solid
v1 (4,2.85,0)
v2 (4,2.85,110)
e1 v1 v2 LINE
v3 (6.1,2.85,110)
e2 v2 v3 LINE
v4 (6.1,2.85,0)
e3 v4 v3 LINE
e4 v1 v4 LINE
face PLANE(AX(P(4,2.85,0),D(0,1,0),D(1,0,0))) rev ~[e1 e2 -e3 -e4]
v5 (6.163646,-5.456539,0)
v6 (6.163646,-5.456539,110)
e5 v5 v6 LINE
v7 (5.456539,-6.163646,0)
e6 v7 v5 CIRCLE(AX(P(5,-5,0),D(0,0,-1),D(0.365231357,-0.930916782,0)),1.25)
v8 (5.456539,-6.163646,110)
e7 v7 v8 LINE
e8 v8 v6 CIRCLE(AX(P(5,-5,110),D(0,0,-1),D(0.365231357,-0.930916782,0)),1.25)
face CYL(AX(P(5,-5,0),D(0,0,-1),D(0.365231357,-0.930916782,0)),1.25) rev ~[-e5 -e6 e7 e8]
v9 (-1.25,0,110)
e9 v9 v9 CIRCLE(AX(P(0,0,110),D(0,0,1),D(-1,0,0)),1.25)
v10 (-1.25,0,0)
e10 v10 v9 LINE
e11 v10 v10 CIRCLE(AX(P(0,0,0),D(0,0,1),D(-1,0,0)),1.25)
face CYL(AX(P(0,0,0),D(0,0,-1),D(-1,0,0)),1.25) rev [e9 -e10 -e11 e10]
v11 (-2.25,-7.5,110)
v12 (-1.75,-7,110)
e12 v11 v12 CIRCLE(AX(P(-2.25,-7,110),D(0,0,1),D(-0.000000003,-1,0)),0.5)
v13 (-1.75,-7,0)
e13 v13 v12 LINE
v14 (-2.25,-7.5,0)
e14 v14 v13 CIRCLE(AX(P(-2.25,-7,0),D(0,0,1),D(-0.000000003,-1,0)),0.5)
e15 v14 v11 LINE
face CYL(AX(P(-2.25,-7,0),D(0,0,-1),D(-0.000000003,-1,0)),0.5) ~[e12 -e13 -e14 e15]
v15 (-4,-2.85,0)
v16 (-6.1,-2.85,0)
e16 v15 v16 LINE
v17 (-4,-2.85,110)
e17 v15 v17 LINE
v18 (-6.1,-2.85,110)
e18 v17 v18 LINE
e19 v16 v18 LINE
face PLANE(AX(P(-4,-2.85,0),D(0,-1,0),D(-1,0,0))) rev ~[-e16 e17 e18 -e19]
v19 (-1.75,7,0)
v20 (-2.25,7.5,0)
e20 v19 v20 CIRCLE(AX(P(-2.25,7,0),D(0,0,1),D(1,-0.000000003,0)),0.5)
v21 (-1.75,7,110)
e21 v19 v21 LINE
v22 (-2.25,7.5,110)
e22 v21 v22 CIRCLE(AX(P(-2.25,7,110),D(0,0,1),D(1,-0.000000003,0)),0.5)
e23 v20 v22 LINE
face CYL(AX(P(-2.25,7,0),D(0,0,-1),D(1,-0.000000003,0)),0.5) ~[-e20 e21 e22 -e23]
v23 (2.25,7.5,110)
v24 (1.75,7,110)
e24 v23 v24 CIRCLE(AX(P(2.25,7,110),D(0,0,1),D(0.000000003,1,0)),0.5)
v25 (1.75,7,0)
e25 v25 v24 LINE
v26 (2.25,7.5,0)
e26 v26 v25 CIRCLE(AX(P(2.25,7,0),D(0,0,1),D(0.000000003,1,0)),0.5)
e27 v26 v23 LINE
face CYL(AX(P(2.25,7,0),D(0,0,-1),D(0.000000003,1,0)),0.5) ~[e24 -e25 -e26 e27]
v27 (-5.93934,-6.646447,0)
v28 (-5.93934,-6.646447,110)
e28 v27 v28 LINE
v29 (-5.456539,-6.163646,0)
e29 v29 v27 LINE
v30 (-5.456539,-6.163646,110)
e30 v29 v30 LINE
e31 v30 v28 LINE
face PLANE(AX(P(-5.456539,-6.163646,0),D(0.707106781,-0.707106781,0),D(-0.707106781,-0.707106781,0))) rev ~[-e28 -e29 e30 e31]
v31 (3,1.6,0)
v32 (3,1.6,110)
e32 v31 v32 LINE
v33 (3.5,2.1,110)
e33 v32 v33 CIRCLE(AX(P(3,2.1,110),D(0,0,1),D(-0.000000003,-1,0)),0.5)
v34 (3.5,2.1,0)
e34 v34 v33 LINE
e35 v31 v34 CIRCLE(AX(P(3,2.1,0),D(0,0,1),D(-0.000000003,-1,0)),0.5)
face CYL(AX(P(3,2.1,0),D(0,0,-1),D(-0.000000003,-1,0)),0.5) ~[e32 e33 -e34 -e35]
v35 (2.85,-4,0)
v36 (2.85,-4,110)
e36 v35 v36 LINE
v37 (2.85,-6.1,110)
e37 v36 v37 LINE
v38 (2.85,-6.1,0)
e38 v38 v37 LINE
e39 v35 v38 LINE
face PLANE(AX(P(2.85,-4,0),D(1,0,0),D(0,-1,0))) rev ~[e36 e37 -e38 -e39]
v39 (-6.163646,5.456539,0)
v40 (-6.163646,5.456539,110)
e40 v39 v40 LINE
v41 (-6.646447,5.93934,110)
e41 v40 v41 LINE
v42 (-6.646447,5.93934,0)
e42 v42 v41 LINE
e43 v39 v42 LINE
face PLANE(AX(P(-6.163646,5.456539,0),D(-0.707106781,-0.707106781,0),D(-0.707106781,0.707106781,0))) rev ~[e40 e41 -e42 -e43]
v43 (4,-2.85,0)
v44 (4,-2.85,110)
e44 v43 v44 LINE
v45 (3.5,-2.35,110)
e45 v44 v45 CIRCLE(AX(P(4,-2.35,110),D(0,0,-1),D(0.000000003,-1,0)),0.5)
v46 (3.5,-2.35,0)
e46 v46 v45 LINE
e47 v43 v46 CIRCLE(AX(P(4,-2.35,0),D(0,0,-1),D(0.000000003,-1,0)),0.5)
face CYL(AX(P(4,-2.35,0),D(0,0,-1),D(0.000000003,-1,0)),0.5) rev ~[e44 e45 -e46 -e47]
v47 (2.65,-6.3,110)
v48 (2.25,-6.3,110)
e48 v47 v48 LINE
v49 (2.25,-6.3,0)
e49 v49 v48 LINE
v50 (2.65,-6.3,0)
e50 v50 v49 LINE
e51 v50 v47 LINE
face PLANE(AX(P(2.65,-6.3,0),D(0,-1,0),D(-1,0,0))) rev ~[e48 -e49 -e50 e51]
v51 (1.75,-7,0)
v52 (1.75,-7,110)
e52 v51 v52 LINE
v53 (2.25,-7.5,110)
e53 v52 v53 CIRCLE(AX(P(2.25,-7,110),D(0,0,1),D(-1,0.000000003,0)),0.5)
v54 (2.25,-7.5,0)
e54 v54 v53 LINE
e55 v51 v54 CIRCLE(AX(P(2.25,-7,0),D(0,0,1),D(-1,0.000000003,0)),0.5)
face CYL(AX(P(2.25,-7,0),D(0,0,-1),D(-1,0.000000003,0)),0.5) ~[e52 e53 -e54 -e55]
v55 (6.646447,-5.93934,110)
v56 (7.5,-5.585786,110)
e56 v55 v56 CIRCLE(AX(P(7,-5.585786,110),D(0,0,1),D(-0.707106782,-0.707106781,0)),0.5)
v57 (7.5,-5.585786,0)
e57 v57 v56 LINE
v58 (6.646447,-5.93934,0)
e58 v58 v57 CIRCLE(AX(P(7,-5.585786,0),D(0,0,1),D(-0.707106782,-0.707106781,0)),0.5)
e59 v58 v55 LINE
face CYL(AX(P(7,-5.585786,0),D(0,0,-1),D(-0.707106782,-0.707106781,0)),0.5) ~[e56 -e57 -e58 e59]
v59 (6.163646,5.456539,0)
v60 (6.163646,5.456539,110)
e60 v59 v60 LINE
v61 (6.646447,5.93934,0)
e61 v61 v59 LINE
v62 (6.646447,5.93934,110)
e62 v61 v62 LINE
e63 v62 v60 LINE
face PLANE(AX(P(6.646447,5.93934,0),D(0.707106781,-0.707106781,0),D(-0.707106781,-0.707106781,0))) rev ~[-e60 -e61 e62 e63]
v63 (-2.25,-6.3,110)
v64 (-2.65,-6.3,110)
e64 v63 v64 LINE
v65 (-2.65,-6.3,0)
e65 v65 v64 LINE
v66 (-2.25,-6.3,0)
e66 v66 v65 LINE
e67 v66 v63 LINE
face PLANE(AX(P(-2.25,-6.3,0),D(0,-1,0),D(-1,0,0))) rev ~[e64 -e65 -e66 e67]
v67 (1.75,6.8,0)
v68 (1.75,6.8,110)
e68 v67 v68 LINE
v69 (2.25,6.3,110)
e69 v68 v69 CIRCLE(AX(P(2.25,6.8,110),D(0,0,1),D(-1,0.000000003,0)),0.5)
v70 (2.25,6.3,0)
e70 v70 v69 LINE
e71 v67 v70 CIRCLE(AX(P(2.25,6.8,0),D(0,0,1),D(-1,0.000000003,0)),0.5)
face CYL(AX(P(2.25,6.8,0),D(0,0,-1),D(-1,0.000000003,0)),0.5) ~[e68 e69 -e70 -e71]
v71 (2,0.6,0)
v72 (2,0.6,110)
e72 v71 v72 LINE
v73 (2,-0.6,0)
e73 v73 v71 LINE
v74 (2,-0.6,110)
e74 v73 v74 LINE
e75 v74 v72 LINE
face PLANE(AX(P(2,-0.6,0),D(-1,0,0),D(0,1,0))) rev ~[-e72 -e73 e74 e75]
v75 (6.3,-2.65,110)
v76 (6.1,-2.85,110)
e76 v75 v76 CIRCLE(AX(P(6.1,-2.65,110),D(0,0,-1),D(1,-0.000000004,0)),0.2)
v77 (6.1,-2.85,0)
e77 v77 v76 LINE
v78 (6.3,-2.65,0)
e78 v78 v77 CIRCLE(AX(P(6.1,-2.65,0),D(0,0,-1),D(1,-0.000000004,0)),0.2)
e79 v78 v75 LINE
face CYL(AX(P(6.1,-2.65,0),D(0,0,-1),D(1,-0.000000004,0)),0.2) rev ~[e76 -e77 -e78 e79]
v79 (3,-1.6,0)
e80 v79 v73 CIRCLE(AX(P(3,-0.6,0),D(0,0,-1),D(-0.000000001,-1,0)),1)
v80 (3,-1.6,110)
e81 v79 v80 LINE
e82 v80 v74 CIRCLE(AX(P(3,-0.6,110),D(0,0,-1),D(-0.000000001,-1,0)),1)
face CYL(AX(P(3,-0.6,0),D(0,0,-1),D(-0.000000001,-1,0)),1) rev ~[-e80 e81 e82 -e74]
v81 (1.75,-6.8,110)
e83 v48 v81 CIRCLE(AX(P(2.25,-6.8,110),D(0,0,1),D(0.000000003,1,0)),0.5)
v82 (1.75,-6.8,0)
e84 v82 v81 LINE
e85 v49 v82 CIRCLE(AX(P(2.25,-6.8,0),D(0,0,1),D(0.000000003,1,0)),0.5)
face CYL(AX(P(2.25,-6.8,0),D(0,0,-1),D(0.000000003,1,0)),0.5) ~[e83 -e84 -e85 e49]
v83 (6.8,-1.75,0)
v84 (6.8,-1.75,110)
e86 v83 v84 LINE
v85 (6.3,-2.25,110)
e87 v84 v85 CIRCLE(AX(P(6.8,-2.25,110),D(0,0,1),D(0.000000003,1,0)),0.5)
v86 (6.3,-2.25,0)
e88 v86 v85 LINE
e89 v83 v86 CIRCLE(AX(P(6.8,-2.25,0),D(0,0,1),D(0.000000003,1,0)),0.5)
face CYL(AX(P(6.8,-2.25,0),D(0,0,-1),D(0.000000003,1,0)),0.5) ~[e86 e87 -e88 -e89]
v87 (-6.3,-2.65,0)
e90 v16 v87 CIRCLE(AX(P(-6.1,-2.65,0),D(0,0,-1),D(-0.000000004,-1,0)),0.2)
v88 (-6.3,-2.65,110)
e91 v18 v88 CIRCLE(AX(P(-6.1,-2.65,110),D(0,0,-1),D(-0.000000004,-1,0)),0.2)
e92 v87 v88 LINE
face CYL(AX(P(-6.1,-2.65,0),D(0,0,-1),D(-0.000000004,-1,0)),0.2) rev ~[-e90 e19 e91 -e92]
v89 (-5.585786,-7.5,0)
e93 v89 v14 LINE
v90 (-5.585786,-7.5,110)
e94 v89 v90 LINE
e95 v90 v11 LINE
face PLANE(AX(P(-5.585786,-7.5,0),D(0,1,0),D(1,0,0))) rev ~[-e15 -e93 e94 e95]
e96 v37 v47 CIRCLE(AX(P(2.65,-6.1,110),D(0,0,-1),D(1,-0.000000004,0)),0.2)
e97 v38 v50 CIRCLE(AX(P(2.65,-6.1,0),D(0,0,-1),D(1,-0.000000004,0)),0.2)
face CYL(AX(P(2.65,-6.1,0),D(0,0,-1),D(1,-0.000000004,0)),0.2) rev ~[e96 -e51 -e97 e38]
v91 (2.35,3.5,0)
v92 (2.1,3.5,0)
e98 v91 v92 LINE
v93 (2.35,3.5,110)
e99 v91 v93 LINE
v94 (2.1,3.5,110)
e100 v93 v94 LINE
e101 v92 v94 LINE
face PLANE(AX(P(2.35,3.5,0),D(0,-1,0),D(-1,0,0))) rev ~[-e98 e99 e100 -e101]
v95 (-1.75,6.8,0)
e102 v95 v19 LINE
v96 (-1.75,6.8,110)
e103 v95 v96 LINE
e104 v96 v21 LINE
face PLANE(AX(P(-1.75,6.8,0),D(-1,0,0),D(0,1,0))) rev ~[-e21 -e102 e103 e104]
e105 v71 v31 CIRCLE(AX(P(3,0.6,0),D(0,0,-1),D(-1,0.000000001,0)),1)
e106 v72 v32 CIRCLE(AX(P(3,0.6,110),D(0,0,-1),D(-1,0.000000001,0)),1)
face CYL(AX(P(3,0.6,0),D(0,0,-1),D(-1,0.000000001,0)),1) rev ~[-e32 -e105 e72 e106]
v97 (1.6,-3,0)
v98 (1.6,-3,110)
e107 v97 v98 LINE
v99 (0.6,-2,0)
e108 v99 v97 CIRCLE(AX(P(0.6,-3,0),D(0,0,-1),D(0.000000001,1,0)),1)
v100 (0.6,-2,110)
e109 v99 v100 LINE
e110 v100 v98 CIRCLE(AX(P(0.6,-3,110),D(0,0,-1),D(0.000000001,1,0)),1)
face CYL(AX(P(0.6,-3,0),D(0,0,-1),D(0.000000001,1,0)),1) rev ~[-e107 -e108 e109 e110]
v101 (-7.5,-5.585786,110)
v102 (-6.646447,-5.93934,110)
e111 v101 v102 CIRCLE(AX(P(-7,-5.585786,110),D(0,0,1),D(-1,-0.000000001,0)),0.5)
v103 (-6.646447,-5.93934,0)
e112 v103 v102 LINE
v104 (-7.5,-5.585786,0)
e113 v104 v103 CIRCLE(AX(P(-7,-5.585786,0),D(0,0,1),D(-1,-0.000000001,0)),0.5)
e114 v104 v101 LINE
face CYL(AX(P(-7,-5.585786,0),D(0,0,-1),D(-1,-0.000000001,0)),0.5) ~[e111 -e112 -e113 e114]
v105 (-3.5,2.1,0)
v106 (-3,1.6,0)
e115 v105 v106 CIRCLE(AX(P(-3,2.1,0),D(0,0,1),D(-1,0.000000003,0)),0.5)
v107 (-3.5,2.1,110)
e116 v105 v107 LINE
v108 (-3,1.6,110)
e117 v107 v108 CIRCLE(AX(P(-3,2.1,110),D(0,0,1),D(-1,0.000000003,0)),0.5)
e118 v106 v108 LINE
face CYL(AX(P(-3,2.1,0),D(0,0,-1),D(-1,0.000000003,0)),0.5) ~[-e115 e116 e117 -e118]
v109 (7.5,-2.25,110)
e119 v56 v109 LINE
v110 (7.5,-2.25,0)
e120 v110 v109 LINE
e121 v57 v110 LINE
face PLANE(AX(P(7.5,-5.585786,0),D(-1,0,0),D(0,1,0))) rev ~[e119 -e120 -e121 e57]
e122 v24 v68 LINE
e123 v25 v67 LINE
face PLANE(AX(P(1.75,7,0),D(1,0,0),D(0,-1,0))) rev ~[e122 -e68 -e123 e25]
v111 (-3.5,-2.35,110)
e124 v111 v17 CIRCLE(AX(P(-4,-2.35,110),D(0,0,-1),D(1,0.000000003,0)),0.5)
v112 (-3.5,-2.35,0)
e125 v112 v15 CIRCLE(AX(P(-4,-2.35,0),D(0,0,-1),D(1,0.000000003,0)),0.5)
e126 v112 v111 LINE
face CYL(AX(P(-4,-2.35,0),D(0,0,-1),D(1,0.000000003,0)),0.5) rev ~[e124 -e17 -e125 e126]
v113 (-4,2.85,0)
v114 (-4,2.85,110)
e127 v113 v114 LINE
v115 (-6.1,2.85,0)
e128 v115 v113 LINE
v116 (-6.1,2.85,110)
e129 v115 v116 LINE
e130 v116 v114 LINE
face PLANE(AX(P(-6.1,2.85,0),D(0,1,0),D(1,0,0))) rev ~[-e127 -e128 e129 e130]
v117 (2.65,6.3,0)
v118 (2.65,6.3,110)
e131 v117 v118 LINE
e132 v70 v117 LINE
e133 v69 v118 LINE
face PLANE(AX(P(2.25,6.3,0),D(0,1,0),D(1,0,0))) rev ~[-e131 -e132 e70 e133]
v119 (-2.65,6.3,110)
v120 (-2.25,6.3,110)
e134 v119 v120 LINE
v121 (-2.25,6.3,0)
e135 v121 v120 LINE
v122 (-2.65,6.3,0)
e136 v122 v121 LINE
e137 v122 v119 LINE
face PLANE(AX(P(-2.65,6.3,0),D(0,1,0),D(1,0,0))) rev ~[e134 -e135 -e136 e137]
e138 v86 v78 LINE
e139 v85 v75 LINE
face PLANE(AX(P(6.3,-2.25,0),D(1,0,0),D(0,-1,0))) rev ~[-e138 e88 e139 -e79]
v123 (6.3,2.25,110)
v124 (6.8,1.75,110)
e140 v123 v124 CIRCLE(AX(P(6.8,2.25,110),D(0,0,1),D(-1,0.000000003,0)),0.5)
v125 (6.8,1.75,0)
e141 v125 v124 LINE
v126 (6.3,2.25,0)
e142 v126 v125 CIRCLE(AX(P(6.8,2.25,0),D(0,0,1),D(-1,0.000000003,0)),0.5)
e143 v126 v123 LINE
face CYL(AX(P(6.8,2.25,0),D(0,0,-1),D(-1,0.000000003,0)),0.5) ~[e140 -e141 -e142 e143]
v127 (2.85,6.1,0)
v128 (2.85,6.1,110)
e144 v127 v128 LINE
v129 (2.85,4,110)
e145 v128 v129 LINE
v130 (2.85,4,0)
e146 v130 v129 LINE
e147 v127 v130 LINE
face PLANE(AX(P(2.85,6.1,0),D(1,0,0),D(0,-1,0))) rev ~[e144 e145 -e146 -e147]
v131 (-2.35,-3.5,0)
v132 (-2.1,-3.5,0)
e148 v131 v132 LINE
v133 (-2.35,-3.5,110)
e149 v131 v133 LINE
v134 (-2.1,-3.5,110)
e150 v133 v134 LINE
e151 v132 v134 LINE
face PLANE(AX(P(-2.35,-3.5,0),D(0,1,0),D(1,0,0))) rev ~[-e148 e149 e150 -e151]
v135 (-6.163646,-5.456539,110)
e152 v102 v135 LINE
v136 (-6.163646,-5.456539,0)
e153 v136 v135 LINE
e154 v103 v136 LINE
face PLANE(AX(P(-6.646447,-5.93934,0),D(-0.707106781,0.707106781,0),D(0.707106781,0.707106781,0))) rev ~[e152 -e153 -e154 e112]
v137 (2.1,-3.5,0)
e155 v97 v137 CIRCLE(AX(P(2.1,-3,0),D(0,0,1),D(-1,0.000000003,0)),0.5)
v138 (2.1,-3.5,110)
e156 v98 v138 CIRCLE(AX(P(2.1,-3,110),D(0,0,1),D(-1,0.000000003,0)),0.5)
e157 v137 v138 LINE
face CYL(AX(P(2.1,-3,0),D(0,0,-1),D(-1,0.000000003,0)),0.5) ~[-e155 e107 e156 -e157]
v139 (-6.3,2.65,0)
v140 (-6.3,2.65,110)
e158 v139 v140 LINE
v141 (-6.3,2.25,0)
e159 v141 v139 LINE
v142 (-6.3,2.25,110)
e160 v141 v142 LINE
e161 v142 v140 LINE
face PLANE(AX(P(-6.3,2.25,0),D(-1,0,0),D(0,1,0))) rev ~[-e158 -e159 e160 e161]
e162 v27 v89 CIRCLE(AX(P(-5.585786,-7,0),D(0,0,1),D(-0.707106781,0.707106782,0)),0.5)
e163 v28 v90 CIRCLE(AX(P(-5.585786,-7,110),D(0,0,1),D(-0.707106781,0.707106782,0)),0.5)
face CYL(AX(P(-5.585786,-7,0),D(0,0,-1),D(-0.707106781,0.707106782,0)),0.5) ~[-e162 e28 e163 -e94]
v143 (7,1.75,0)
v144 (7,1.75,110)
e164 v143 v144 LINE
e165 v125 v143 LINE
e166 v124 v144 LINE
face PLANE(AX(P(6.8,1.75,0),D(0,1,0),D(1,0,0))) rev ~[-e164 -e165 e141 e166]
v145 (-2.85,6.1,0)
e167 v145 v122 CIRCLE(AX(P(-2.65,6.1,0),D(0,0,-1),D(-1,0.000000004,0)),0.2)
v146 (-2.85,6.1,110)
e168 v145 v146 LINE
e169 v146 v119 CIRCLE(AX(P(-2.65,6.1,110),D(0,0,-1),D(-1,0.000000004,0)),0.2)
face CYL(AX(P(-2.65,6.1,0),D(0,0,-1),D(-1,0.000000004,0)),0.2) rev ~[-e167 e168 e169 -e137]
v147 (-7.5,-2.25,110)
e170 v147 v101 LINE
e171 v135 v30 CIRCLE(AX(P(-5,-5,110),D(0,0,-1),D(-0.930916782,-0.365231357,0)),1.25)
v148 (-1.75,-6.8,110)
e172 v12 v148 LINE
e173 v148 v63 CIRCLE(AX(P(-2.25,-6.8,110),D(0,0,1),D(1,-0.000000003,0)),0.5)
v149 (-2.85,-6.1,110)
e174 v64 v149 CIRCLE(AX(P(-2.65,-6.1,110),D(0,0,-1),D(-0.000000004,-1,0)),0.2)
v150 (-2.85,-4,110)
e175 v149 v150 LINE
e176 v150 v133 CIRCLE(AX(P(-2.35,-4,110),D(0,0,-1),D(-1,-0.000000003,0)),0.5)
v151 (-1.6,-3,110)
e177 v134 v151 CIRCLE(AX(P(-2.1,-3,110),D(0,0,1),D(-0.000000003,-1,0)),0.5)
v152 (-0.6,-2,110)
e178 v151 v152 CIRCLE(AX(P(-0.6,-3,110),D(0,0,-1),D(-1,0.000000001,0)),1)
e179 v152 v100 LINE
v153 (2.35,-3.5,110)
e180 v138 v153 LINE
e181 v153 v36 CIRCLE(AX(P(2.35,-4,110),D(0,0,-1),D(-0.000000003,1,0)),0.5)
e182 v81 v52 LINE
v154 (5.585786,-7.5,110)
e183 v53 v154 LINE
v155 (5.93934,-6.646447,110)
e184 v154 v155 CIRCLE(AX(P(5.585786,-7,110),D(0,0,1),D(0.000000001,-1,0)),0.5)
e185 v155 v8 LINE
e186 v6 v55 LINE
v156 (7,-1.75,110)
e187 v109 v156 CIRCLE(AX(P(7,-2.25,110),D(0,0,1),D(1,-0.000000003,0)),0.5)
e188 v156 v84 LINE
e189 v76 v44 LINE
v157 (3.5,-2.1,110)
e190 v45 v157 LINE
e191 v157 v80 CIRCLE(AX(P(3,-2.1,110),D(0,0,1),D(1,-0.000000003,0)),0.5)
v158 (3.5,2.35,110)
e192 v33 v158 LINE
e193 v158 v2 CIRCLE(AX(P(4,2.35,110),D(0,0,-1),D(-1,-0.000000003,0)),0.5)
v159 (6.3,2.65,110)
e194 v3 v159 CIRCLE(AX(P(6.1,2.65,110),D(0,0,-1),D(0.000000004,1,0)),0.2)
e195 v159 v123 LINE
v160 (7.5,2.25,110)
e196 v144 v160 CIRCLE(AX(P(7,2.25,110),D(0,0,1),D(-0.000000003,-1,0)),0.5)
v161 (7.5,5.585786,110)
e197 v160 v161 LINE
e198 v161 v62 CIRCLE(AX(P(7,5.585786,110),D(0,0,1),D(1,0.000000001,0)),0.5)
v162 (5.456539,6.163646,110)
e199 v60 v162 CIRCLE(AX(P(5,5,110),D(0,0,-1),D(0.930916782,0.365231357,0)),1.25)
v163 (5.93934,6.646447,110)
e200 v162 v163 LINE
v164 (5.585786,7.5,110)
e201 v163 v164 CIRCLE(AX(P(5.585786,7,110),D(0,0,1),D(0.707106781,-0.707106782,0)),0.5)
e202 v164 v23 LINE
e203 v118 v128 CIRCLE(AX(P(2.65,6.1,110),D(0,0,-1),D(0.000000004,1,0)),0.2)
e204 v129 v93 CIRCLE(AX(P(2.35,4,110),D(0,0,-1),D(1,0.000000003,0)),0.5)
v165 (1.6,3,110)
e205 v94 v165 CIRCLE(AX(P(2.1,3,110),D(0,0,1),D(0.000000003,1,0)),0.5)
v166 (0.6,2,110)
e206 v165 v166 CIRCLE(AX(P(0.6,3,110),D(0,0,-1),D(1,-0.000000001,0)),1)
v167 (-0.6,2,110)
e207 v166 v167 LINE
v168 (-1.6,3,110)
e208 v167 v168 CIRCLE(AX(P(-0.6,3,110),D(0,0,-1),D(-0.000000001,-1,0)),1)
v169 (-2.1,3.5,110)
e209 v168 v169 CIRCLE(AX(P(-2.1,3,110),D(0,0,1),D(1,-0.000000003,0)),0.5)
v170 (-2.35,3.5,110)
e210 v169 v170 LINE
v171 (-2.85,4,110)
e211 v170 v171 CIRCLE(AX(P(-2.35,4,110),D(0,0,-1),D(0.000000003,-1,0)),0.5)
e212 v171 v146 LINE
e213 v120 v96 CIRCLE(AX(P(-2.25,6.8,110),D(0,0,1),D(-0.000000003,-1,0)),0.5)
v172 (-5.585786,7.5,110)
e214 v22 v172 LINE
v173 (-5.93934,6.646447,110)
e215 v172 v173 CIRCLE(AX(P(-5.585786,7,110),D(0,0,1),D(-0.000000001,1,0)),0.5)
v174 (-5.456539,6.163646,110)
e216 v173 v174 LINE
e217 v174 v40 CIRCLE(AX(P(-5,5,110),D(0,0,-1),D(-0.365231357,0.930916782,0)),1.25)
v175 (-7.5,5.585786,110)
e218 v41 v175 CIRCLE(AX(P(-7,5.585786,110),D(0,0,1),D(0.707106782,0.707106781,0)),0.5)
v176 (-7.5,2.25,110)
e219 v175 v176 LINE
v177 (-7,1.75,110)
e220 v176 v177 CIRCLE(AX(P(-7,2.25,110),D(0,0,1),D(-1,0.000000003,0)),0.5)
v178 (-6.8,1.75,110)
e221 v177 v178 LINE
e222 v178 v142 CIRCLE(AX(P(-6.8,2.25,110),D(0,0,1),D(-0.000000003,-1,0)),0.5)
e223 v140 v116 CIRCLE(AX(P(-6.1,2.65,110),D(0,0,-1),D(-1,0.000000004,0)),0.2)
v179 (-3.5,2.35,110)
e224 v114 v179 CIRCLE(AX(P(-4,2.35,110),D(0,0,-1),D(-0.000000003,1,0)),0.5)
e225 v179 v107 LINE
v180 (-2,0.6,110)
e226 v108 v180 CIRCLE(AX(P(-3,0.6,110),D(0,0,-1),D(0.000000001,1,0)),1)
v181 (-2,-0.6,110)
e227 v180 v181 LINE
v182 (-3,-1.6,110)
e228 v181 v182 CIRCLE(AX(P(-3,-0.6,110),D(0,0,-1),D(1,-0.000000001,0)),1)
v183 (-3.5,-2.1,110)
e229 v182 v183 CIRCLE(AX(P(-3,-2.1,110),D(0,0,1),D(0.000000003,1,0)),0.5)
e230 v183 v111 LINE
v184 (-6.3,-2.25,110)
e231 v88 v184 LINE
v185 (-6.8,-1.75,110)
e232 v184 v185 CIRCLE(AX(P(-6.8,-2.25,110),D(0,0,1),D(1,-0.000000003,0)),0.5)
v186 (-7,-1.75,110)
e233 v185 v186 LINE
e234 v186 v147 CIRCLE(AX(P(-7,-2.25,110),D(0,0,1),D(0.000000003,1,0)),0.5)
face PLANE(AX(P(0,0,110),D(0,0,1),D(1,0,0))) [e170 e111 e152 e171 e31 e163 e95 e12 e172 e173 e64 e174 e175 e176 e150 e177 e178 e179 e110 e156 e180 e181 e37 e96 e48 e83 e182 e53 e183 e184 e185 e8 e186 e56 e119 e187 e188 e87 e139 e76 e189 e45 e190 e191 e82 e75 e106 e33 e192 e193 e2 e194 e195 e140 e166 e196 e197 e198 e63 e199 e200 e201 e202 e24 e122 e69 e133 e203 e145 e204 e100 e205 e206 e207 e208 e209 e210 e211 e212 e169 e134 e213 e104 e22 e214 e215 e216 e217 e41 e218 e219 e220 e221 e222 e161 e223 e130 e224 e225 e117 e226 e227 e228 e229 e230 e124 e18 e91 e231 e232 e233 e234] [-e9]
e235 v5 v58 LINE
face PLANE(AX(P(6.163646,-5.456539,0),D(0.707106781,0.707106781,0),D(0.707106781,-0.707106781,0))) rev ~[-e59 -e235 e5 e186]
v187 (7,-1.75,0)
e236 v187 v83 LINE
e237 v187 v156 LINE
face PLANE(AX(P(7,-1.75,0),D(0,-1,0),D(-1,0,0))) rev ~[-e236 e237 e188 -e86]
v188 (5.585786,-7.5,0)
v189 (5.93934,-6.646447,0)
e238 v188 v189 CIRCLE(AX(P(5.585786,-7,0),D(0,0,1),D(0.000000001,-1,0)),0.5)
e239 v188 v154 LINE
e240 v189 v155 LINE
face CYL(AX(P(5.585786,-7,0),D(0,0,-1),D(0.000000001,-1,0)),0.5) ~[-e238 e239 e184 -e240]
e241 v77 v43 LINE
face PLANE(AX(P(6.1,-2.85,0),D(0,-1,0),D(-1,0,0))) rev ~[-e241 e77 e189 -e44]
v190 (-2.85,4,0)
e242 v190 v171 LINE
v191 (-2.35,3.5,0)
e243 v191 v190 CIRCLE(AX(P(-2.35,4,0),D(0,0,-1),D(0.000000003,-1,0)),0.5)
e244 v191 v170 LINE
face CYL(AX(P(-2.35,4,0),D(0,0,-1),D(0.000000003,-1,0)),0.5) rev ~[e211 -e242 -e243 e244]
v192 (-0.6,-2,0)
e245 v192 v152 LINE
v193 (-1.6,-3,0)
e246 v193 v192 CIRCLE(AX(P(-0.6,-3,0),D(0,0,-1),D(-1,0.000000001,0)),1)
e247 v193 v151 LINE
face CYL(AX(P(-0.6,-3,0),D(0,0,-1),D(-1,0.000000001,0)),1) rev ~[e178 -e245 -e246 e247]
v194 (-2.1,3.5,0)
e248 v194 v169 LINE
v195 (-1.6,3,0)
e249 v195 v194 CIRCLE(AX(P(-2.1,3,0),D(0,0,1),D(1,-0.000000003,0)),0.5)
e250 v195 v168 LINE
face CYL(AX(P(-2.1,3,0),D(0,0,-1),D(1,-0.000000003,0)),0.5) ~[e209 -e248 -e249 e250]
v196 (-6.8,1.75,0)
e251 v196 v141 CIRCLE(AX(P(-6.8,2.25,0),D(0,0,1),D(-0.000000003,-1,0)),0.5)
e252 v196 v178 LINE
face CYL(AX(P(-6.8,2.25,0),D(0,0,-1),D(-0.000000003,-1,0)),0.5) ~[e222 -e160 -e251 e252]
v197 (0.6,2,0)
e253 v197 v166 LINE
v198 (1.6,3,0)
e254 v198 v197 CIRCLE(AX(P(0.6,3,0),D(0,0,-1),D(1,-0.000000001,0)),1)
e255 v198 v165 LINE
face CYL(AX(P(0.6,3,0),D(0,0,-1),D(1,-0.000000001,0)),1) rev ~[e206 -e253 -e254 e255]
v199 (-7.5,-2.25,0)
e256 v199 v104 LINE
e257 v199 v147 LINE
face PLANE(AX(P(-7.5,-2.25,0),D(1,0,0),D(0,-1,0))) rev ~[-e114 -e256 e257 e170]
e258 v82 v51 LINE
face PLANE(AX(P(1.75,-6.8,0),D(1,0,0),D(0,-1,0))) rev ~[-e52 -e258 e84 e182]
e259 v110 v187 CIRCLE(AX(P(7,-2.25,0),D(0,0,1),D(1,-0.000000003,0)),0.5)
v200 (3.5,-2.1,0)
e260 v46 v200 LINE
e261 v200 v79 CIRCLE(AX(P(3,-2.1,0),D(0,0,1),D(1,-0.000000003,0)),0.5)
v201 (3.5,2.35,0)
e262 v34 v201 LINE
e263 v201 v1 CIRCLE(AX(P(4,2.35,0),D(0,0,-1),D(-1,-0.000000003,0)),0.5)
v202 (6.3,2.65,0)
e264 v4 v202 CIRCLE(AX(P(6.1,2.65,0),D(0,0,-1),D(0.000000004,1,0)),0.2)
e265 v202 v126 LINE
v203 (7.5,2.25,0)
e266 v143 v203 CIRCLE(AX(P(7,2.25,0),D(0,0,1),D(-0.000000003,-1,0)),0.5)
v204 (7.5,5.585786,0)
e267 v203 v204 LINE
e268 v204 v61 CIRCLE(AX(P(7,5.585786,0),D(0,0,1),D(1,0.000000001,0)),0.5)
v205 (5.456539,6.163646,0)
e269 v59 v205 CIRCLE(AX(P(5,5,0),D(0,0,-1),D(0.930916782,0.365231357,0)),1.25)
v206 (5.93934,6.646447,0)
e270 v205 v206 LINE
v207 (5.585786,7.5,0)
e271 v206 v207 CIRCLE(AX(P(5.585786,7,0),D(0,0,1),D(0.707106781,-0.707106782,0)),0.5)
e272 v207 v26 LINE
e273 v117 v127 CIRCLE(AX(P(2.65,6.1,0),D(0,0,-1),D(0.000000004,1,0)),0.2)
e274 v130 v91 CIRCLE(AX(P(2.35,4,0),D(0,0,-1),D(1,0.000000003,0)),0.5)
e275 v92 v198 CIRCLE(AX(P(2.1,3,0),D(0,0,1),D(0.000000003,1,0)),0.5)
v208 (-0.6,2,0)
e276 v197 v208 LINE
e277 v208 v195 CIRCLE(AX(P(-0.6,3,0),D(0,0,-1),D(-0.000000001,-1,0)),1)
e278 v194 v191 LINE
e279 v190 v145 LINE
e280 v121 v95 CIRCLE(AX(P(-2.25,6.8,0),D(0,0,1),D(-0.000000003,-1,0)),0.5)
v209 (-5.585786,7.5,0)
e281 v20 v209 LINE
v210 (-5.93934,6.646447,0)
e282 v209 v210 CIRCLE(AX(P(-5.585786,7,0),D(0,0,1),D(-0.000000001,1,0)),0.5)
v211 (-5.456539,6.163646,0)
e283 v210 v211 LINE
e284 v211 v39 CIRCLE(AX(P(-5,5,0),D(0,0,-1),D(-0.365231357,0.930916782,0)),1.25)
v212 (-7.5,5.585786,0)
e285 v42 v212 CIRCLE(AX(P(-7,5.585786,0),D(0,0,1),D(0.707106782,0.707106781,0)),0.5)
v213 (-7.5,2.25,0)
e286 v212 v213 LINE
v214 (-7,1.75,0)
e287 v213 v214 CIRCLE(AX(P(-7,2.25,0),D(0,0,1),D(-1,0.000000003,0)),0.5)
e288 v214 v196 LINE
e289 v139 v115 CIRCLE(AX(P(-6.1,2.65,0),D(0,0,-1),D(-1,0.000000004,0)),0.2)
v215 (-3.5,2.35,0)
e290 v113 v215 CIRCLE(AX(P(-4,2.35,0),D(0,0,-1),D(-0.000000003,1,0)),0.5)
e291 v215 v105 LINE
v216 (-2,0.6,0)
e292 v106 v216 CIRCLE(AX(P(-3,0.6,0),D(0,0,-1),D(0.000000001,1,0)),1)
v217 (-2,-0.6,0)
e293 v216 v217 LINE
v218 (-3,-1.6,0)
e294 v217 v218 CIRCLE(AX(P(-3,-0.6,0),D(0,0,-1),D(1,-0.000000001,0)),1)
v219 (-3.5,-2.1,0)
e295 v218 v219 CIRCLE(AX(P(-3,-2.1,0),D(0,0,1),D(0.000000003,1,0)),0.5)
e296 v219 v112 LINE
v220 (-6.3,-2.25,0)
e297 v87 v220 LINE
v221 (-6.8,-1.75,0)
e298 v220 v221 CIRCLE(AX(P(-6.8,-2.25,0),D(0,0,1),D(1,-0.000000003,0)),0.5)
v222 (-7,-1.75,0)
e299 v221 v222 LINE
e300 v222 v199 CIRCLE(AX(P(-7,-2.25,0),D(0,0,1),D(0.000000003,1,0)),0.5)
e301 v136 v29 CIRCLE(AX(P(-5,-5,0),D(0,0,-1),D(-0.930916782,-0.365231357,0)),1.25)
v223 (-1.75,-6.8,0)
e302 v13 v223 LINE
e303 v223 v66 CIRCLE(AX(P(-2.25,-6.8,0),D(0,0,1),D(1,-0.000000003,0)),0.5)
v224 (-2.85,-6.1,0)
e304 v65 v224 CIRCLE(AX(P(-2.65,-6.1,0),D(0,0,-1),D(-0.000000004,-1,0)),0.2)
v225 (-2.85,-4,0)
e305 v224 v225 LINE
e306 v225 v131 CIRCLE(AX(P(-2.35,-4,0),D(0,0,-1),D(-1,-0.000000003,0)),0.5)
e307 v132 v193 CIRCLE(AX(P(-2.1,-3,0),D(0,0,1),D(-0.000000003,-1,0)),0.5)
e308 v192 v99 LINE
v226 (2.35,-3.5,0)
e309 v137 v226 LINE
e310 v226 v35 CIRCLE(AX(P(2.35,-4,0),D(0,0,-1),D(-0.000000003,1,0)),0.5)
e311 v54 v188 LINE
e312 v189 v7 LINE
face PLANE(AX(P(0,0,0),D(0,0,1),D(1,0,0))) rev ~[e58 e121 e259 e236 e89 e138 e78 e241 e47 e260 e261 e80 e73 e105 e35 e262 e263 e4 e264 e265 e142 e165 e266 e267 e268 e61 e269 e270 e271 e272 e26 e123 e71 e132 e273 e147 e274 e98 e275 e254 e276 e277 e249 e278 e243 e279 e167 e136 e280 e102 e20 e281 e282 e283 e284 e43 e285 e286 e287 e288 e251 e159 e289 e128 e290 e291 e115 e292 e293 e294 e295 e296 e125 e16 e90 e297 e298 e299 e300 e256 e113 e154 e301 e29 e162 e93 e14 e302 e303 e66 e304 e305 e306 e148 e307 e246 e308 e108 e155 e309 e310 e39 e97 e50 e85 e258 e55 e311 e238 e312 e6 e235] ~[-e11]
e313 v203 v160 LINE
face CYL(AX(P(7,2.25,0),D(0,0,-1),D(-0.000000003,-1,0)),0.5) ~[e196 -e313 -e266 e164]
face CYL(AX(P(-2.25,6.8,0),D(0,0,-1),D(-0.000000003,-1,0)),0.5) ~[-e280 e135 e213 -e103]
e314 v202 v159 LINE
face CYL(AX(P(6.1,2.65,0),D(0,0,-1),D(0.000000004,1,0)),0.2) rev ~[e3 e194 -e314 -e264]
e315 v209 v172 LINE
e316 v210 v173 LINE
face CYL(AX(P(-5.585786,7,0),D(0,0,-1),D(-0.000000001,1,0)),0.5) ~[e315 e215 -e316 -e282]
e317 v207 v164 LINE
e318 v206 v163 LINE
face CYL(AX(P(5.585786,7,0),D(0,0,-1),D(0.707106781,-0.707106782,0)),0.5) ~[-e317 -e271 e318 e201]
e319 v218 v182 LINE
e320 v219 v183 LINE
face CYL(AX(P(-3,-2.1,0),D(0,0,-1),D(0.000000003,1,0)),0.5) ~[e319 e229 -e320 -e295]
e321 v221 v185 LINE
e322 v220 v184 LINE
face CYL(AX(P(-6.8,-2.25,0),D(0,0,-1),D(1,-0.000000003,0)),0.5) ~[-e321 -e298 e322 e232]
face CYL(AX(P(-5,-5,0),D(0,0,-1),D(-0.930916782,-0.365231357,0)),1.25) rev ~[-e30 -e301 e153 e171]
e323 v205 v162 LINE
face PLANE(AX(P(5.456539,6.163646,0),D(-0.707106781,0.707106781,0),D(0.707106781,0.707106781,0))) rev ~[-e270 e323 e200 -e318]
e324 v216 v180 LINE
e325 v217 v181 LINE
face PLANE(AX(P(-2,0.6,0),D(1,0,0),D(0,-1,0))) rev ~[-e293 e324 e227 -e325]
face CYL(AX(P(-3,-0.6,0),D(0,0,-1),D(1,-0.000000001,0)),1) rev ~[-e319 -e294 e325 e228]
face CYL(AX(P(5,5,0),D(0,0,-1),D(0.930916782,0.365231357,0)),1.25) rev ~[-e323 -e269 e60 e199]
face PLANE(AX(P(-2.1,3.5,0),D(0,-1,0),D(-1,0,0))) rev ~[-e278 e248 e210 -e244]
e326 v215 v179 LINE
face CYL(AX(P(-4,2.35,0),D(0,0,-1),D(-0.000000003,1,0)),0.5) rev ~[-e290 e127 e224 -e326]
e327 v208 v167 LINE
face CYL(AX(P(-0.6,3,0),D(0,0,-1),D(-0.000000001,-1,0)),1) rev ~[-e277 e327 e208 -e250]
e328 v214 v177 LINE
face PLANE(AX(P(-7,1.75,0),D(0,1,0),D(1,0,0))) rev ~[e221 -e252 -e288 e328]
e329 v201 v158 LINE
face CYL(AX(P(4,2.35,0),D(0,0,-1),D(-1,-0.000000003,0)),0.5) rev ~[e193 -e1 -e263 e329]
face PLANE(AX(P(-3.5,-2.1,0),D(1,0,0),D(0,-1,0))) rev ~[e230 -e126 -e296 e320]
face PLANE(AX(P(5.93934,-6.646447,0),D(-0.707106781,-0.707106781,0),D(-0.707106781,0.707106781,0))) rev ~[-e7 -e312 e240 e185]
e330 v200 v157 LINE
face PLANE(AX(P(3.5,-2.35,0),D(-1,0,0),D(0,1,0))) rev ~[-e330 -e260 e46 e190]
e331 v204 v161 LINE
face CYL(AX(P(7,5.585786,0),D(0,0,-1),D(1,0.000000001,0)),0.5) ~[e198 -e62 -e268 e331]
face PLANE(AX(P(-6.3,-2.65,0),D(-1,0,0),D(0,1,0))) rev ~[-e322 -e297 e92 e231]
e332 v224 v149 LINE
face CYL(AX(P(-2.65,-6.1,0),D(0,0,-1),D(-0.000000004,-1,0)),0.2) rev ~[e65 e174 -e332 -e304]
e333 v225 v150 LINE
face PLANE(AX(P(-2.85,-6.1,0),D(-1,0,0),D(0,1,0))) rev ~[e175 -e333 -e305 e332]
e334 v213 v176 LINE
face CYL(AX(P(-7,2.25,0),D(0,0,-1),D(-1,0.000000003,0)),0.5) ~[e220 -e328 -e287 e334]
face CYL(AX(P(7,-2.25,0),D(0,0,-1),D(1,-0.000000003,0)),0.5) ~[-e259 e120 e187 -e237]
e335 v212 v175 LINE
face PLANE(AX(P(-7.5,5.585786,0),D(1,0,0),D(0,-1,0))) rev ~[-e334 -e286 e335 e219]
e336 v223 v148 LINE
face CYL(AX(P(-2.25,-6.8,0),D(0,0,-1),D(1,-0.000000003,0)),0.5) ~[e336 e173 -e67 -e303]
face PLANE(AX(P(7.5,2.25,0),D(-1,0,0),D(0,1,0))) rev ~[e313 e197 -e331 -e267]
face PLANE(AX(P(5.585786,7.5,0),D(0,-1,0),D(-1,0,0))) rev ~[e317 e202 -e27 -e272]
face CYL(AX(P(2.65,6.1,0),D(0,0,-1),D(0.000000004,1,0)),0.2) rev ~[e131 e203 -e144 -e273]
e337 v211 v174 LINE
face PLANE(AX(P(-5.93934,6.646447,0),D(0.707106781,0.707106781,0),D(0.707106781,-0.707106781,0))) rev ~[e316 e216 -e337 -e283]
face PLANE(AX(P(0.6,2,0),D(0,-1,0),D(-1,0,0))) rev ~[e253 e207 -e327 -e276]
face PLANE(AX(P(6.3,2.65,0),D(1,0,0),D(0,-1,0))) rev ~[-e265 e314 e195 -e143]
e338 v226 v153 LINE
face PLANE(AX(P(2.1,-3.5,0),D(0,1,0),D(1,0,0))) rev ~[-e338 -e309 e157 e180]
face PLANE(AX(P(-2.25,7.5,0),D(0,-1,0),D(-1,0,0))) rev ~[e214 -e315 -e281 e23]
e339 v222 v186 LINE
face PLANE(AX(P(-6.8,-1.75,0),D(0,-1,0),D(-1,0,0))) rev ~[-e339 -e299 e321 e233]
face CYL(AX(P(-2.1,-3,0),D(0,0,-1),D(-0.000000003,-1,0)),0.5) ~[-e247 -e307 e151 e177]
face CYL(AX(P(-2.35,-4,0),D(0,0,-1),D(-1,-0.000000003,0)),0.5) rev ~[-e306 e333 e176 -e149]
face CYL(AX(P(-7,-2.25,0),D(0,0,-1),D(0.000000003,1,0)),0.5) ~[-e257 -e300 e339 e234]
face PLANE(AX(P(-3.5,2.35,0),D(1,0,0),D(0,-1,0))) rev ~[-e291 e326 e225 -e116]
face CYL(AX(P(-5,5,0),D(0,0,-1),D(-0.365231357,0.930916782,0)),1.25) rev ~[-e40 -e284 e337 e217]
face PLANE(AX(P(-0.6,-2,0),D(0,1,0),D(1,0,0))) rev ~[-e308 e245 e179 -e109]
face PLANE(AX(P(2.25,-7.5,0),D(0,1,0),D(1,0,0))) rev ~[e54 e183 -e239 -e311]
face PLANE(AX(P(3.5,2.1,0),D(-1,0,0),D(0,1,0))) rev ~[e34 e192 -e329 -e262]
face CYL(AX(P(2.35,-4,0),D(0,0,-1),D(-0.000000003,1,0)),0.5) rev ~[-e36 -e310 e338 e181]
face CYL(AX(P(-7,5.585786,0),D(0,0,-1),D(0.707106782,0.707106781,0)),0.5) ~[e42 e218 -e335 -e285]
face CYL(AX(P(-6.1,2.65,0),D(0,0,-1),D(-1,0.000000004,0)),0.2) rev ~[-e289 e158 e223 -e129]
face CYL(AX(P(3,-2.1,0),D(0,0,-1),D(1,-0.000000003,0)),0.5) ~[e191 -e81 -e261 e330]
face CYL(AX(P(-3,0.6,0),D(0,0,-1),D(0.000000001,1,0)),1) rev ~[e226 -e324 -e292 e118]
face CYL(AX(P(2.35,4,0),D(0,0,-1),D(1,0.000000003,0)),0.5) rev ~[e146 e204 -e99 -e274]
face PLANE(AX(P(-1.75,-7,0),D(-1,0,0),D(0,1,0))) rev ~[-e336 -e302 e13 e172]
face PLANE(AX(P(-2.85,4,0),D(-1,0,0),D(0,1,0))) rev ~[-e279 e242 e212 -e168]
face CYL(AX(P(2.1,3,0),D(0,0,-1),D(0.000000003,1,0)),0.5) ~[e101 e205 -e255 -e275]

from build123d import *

# Parameters (mm, degrees)
SKETCH1_R           = 1.25
BOSS_EXTRUDE1_DEPTH = 110


with BuildPart() as part:
    # Sketch1 → Boss-Extrude1 (new body)
    with BuildSketch(Plane.XY):
        with BuildLine():
            Line((6.646446609, 5.939339828), (6.163645978, 5.456539197))
            ThreePointArc((6.163645978, 5.456539197), (4.116116524, 4.116116524), (5.456539197, 6.163645978))
            Line((5.456539197, 6.163645978), (5.939339828, 6.646446609))
            ThreePointArc((5.939339828, 6.646446609), (6.047726204, 7.191341716), (5.585786438, 7.5))
            Line((5.585786438, 7.5), (2.25, 7.5))
            ThreePointArc((2.25, 7.5), (1.896446609, 7.353553391), (1.75, 7))
            Line((1.75, 7), (1.75, 6.8))
            ThreePointArc((1.75, 6.8), (1.896446609, 6.446446609), (2.25, 6.3))
            Line((2.25, 6.3), (2.65, 6.3))
            ThreePointArc((2.65, 6.3), (2.791421356, 6.241421356), (2.85, 6.1))
            Line((2.85, 6.1), (2.85, 4))
            ThreePointArc((2.85, 4), (2.703553391, 3.646446609), (2.35, 3.5))
            Line((2.35, 3.5), (2.1, 3.5))
            ThreePointArc((2.1, 3.5), (1.746446609, 3.353553391), (1.6, 3))
            ThreePointArc((1.6, 3), (1.307106781, 2.292893219), (0.6, 2))
            Line((0.6, 2), (-0.6, 2))
            ThreePointArc((-0.6, 2), (-1.307106781, 2.292893219), (-1.6, 3))
            ThreePointArc((-1.6, 3), (-1.746446609, 3.353553391), (-2.1, 3.5))
            Line((-2.1, 3.5), (-2.35, 3.5))
            ThreePointArc((-2.35, 3.5), (-2.703553391, 3.646446609), (-2.85, 4))
            Line((-2.85, 4), (-2.85, 6.1))
            ThreePointArc((-2.85, 6.1), (-2.791421356, 6.241421356), (-2.65, 6.3))
            Line((-2.65, 6.3), (-2.25, 6.3))
            ThreePointArc((-2.25, 6.3), (-1.896446609, 6.446446609), (-1.75, 6.8))
            Line((-1.75, 6.8), (-1.75, 7))
            ThreePointArc((-1.75, 7), (-1.896446609, 7.353553391), (-2.25, 7.5))
            Line((-2.25, 7.5), (-5.585786438, 7.5))
            ThreePointArc((-5.585786438, 7.5), (-6.047726204, 7.191341716), (-5.939339828, 6.646446609))
            Line((-5.939339828, 6.646446609), (-5.456539197, 6.163645978))
            ThreePointArc((-5.456539197, 6.163645978), (-4.116116524, 4.116116524), (-6.163645978, 5.456539197))
            Line((-6.163645978, 5.456539197), (-6.646446609, 5.939339828))
            ThreePointArc((-6.646446609, 5.939339828), (-7.191341716, 6.047726204), (-7.5, 5.585786438))
            Line((-7.5, 5.585786438), (-7.5, 2.25))
            ThreePointArc((-7.5, 2.25), (-7.353553391, 1.896446609), (-7, 1.75))
            Line((-7, 1.75), (-6.8, 1.75))
            ThreePointArc((-6.8, 1.75), (-6.446446609, 1.896446609), (-6.3, 2.25))
            Line((-6.3, 2.25), (-6.3, 2.65))
            ThreePointArc((-6.3, 2.65), (-6.241421356, 2.791421356), (-6.1, 2.85))
            Line((-6.1, 2.85), (-4, 2.85))
            ThreePointArc((-4, 2.85), (-3.646446609, 2.703553391), (-3.5, 2.35))
            Line((-3.5, 2.35), (-3.5, 2.1))
            ThreePointArc((-3.5, 2.1), (-3.353553391, 1.746446609), (-3, 1.6))
            ThreePointArc((-3, 1.6), (-2.292893219, 1.307106781), (-2, 0.6))
            Line((-2, 0.6), (-2, -0.6))
            ThreePointArc((-2, -0.6), (-2.292893219, -1.307106781), (-3, -1.6))
            ThreePointArc((-3, -1.6), (-3.353553391, -1.746446609), (-3.5, -2.1))
            Line((-3.5, -2.1), (-3.5, -2.35))
            ThreePointArc((-3.5, -2.35), (-3.646446609, -2.703553391), (-4, -2.85))
            Line((-4, -2.85), (-6.1, -2.85))
            ThreePointArc((-6.1, -2.85), (-6.241421356, -2.791421356), (-6.3, -2.65))
            Line((-6.3, -2.65), (-6.3, -2.25))
            ThreePointArc((-6.3, -2.25), (-6.446446609, -1.896446609), (-6.8, -1.75))
            Line((-6.8, -1.75), (-7, -1.75))
            ThreePointArc((-7, -1.75), (-7.353553391, -1.896446609), (-7.5, -2.25))
            Line((-7.5, -2.25), (-7.5, -5.585786438))
            ThreePointArc((-7.5, -5.585786438), (-7.191341716, -6.047726204), (-6.646446609, -5.939339828))
            Line((-6.646446609, -5.939339828), (-6.163645978, -5.456539197))
            ThreePointArc((-6.163645978, -5.456539197), (-4.116116524, -4.116116524), (-5.456539197, -6.163645978))
            Line((-5.456539197, -6.163645978), (-5.939339828, -6.646446609))
            ThreePointArc((-5.939339828, -6.646446609), (-6.047726204, -7.191341716), (-5.585786438, -7.5))
            Line((-5.585786438, -7.5), (-2.25, -7.5))
            ThreePointArc((-2.25, -7.5), (-1.896446609, -7.353553391), (-1.75, -7))
            Line((-1.75, -7), (-1.75, -6.8))
            ThreePointArc((-1.75, -6.8), (-1.896446609, -6.446446609), (-2.25, -6.3))
            Line((-2.25, -6.3), (-2.65, -6.3))
            ThreePointArc((-2.65, -6.3), (-2.791421356, -6.241421356), (-2.85, -6.1))
            Line((-2.85, -6.1), (-2.85, -4))
            ThreePointArc((-2.85, -4), (-2.703553391, -3.646446609), (-2.35, -3.5))
            Line((-2.35, -3.5), (-2.1, -3.5))
            ThreePointArc((-2.1, -3.5), (-1.746446609, -3.353553391), (-1.6, -3))
            ThreePointArc((-1.6, -3), (-1.307106781, -2.292893219), (-0.6, -2))
            Line((-0.6, -2), (0.6, -2))
            ThreePointArc((0.6, -2), (1.307106781, -2.292893219), (1.6, -3))
            ThreePointArc((1.6, -3), (1.746446609, -3.353553391), (2.1, -3.5))
            Line((2.1, -3.5), (2.35, -3.5))
            ThreePointArc((2.35, -3.5), (2.703553391, -3.646446609), (2.85, -4))
            Line((2.85, -4), (2.85, -6.1))
            ThreePointArc((2.85, -6.1), (2.791421356, -6.241421356), (2.65, -6.3))
            Line((2.65, -6.3), (2.25, -6.3))
            ThreePointArc((2.25, -6.3), (1.896446609, -6.446446609), (1.75, -6.8))
            Line((1.75, -6.8), (1.75, -7))
            ThreePointArc((1.75, -7), (1.896446609, -7.353553391), (2.25, -7.5))
            Line((2.25, -7.5), (5.585786438, -7.5))
            ThreePointArc((5.585786438, -7.5), (6.047726204, -7.191341716), (5.939339828, -6.646446609))
            Line((5.939339828, -6.646446609), (5.456539197, -6.163645978))
            ThreePointArc((5.456539197, -6.163645978), (4.116116524, -4.116116524), (6.163645978, -5.456539197))
            Line((6.163645978, -5.456539197), (6.646446609, -5.939339828))
            ThreePointArc((6.646446609, -5.939339828), (7.191341716, -6.047726204), (7.5, -5.585786438))
            Line((7.5, -5.585786438), (7.5, -2.25))
            ThreePointArc((7.5, -2.25), (7.353553391, -1.896446609), (7, -1.75))
            Line((7, -1.75), (6.8, -1.75))
            ThreePointArc((6.8, -1.75), (6.446446609, -1.896446609), (6.3, -2.25))
            Line((6.3, -2.25), (6.3, -2.65))
            ThreePointArc((6.3, -2.65), (6.241421356, -2.791421356), (6.1, -2.85))
            Line((6.1, -2.85), (4, -2.85))
            ThreePointArc((4, -2.85), (3.646446609, -2.703553391), (3.5, -2.35))
            Line((3.5, -2.35), (3.5, -2.1))
            ThreePointArc((3.5, -2.1), (3.353553391, -1.746446609), (3, -1.6))
            ThreePointArc((3, -1.6), (2.292893219, -1.307106781), (2, -0.6))
            Line((2, -0.6), (2, 0.6))
            ThreePointArc((2, 0.6), (2.292893219, 1.307106781), (3, 1.6))
            ThreePointArc((3, 1.6), (3.353553391, 1.746446609), (3.5, 2.1))
            Line((3.5, 2.1), (3.5, 2.35))
            ThreePointArc((3.5, 2.35), (3.646446609, 2.703553391), (4, 2.85))
            Line((4, 2.85), (6.1, 2.85))
            ThreePointArc((6.1, 2.85), (6.241421356, 2.791421356), (6.3, 2.65))
            Line((6.3, 2.65), (6.3, 2.25))
            ThreePointArc((6.3, 2.25), (6.446446609, 1.896446609), (6.8, 1.75))
            Line((6.8, 1.75), (7, 1.75))
            ThreePointArc((7, 1.75), (7.353553391, 1.896446609), (7.5, 2.25))
            Line((7.5, 2.25), (7.5, 5.585786438))
            ThreePointArc((7.5, 5.585786438), (7.191341716, 6.047726204), (6.646446609, 5.939339828))
        make_face()
        with Locations(Location((0, 0, 0), (0, 0, 180))):
            Circle(SKETCH1_R, mode=Mode.SUBTRACT)
    extrude(amount=BOSS_EXTRUDE1_DEPTH)


solid = part.part
